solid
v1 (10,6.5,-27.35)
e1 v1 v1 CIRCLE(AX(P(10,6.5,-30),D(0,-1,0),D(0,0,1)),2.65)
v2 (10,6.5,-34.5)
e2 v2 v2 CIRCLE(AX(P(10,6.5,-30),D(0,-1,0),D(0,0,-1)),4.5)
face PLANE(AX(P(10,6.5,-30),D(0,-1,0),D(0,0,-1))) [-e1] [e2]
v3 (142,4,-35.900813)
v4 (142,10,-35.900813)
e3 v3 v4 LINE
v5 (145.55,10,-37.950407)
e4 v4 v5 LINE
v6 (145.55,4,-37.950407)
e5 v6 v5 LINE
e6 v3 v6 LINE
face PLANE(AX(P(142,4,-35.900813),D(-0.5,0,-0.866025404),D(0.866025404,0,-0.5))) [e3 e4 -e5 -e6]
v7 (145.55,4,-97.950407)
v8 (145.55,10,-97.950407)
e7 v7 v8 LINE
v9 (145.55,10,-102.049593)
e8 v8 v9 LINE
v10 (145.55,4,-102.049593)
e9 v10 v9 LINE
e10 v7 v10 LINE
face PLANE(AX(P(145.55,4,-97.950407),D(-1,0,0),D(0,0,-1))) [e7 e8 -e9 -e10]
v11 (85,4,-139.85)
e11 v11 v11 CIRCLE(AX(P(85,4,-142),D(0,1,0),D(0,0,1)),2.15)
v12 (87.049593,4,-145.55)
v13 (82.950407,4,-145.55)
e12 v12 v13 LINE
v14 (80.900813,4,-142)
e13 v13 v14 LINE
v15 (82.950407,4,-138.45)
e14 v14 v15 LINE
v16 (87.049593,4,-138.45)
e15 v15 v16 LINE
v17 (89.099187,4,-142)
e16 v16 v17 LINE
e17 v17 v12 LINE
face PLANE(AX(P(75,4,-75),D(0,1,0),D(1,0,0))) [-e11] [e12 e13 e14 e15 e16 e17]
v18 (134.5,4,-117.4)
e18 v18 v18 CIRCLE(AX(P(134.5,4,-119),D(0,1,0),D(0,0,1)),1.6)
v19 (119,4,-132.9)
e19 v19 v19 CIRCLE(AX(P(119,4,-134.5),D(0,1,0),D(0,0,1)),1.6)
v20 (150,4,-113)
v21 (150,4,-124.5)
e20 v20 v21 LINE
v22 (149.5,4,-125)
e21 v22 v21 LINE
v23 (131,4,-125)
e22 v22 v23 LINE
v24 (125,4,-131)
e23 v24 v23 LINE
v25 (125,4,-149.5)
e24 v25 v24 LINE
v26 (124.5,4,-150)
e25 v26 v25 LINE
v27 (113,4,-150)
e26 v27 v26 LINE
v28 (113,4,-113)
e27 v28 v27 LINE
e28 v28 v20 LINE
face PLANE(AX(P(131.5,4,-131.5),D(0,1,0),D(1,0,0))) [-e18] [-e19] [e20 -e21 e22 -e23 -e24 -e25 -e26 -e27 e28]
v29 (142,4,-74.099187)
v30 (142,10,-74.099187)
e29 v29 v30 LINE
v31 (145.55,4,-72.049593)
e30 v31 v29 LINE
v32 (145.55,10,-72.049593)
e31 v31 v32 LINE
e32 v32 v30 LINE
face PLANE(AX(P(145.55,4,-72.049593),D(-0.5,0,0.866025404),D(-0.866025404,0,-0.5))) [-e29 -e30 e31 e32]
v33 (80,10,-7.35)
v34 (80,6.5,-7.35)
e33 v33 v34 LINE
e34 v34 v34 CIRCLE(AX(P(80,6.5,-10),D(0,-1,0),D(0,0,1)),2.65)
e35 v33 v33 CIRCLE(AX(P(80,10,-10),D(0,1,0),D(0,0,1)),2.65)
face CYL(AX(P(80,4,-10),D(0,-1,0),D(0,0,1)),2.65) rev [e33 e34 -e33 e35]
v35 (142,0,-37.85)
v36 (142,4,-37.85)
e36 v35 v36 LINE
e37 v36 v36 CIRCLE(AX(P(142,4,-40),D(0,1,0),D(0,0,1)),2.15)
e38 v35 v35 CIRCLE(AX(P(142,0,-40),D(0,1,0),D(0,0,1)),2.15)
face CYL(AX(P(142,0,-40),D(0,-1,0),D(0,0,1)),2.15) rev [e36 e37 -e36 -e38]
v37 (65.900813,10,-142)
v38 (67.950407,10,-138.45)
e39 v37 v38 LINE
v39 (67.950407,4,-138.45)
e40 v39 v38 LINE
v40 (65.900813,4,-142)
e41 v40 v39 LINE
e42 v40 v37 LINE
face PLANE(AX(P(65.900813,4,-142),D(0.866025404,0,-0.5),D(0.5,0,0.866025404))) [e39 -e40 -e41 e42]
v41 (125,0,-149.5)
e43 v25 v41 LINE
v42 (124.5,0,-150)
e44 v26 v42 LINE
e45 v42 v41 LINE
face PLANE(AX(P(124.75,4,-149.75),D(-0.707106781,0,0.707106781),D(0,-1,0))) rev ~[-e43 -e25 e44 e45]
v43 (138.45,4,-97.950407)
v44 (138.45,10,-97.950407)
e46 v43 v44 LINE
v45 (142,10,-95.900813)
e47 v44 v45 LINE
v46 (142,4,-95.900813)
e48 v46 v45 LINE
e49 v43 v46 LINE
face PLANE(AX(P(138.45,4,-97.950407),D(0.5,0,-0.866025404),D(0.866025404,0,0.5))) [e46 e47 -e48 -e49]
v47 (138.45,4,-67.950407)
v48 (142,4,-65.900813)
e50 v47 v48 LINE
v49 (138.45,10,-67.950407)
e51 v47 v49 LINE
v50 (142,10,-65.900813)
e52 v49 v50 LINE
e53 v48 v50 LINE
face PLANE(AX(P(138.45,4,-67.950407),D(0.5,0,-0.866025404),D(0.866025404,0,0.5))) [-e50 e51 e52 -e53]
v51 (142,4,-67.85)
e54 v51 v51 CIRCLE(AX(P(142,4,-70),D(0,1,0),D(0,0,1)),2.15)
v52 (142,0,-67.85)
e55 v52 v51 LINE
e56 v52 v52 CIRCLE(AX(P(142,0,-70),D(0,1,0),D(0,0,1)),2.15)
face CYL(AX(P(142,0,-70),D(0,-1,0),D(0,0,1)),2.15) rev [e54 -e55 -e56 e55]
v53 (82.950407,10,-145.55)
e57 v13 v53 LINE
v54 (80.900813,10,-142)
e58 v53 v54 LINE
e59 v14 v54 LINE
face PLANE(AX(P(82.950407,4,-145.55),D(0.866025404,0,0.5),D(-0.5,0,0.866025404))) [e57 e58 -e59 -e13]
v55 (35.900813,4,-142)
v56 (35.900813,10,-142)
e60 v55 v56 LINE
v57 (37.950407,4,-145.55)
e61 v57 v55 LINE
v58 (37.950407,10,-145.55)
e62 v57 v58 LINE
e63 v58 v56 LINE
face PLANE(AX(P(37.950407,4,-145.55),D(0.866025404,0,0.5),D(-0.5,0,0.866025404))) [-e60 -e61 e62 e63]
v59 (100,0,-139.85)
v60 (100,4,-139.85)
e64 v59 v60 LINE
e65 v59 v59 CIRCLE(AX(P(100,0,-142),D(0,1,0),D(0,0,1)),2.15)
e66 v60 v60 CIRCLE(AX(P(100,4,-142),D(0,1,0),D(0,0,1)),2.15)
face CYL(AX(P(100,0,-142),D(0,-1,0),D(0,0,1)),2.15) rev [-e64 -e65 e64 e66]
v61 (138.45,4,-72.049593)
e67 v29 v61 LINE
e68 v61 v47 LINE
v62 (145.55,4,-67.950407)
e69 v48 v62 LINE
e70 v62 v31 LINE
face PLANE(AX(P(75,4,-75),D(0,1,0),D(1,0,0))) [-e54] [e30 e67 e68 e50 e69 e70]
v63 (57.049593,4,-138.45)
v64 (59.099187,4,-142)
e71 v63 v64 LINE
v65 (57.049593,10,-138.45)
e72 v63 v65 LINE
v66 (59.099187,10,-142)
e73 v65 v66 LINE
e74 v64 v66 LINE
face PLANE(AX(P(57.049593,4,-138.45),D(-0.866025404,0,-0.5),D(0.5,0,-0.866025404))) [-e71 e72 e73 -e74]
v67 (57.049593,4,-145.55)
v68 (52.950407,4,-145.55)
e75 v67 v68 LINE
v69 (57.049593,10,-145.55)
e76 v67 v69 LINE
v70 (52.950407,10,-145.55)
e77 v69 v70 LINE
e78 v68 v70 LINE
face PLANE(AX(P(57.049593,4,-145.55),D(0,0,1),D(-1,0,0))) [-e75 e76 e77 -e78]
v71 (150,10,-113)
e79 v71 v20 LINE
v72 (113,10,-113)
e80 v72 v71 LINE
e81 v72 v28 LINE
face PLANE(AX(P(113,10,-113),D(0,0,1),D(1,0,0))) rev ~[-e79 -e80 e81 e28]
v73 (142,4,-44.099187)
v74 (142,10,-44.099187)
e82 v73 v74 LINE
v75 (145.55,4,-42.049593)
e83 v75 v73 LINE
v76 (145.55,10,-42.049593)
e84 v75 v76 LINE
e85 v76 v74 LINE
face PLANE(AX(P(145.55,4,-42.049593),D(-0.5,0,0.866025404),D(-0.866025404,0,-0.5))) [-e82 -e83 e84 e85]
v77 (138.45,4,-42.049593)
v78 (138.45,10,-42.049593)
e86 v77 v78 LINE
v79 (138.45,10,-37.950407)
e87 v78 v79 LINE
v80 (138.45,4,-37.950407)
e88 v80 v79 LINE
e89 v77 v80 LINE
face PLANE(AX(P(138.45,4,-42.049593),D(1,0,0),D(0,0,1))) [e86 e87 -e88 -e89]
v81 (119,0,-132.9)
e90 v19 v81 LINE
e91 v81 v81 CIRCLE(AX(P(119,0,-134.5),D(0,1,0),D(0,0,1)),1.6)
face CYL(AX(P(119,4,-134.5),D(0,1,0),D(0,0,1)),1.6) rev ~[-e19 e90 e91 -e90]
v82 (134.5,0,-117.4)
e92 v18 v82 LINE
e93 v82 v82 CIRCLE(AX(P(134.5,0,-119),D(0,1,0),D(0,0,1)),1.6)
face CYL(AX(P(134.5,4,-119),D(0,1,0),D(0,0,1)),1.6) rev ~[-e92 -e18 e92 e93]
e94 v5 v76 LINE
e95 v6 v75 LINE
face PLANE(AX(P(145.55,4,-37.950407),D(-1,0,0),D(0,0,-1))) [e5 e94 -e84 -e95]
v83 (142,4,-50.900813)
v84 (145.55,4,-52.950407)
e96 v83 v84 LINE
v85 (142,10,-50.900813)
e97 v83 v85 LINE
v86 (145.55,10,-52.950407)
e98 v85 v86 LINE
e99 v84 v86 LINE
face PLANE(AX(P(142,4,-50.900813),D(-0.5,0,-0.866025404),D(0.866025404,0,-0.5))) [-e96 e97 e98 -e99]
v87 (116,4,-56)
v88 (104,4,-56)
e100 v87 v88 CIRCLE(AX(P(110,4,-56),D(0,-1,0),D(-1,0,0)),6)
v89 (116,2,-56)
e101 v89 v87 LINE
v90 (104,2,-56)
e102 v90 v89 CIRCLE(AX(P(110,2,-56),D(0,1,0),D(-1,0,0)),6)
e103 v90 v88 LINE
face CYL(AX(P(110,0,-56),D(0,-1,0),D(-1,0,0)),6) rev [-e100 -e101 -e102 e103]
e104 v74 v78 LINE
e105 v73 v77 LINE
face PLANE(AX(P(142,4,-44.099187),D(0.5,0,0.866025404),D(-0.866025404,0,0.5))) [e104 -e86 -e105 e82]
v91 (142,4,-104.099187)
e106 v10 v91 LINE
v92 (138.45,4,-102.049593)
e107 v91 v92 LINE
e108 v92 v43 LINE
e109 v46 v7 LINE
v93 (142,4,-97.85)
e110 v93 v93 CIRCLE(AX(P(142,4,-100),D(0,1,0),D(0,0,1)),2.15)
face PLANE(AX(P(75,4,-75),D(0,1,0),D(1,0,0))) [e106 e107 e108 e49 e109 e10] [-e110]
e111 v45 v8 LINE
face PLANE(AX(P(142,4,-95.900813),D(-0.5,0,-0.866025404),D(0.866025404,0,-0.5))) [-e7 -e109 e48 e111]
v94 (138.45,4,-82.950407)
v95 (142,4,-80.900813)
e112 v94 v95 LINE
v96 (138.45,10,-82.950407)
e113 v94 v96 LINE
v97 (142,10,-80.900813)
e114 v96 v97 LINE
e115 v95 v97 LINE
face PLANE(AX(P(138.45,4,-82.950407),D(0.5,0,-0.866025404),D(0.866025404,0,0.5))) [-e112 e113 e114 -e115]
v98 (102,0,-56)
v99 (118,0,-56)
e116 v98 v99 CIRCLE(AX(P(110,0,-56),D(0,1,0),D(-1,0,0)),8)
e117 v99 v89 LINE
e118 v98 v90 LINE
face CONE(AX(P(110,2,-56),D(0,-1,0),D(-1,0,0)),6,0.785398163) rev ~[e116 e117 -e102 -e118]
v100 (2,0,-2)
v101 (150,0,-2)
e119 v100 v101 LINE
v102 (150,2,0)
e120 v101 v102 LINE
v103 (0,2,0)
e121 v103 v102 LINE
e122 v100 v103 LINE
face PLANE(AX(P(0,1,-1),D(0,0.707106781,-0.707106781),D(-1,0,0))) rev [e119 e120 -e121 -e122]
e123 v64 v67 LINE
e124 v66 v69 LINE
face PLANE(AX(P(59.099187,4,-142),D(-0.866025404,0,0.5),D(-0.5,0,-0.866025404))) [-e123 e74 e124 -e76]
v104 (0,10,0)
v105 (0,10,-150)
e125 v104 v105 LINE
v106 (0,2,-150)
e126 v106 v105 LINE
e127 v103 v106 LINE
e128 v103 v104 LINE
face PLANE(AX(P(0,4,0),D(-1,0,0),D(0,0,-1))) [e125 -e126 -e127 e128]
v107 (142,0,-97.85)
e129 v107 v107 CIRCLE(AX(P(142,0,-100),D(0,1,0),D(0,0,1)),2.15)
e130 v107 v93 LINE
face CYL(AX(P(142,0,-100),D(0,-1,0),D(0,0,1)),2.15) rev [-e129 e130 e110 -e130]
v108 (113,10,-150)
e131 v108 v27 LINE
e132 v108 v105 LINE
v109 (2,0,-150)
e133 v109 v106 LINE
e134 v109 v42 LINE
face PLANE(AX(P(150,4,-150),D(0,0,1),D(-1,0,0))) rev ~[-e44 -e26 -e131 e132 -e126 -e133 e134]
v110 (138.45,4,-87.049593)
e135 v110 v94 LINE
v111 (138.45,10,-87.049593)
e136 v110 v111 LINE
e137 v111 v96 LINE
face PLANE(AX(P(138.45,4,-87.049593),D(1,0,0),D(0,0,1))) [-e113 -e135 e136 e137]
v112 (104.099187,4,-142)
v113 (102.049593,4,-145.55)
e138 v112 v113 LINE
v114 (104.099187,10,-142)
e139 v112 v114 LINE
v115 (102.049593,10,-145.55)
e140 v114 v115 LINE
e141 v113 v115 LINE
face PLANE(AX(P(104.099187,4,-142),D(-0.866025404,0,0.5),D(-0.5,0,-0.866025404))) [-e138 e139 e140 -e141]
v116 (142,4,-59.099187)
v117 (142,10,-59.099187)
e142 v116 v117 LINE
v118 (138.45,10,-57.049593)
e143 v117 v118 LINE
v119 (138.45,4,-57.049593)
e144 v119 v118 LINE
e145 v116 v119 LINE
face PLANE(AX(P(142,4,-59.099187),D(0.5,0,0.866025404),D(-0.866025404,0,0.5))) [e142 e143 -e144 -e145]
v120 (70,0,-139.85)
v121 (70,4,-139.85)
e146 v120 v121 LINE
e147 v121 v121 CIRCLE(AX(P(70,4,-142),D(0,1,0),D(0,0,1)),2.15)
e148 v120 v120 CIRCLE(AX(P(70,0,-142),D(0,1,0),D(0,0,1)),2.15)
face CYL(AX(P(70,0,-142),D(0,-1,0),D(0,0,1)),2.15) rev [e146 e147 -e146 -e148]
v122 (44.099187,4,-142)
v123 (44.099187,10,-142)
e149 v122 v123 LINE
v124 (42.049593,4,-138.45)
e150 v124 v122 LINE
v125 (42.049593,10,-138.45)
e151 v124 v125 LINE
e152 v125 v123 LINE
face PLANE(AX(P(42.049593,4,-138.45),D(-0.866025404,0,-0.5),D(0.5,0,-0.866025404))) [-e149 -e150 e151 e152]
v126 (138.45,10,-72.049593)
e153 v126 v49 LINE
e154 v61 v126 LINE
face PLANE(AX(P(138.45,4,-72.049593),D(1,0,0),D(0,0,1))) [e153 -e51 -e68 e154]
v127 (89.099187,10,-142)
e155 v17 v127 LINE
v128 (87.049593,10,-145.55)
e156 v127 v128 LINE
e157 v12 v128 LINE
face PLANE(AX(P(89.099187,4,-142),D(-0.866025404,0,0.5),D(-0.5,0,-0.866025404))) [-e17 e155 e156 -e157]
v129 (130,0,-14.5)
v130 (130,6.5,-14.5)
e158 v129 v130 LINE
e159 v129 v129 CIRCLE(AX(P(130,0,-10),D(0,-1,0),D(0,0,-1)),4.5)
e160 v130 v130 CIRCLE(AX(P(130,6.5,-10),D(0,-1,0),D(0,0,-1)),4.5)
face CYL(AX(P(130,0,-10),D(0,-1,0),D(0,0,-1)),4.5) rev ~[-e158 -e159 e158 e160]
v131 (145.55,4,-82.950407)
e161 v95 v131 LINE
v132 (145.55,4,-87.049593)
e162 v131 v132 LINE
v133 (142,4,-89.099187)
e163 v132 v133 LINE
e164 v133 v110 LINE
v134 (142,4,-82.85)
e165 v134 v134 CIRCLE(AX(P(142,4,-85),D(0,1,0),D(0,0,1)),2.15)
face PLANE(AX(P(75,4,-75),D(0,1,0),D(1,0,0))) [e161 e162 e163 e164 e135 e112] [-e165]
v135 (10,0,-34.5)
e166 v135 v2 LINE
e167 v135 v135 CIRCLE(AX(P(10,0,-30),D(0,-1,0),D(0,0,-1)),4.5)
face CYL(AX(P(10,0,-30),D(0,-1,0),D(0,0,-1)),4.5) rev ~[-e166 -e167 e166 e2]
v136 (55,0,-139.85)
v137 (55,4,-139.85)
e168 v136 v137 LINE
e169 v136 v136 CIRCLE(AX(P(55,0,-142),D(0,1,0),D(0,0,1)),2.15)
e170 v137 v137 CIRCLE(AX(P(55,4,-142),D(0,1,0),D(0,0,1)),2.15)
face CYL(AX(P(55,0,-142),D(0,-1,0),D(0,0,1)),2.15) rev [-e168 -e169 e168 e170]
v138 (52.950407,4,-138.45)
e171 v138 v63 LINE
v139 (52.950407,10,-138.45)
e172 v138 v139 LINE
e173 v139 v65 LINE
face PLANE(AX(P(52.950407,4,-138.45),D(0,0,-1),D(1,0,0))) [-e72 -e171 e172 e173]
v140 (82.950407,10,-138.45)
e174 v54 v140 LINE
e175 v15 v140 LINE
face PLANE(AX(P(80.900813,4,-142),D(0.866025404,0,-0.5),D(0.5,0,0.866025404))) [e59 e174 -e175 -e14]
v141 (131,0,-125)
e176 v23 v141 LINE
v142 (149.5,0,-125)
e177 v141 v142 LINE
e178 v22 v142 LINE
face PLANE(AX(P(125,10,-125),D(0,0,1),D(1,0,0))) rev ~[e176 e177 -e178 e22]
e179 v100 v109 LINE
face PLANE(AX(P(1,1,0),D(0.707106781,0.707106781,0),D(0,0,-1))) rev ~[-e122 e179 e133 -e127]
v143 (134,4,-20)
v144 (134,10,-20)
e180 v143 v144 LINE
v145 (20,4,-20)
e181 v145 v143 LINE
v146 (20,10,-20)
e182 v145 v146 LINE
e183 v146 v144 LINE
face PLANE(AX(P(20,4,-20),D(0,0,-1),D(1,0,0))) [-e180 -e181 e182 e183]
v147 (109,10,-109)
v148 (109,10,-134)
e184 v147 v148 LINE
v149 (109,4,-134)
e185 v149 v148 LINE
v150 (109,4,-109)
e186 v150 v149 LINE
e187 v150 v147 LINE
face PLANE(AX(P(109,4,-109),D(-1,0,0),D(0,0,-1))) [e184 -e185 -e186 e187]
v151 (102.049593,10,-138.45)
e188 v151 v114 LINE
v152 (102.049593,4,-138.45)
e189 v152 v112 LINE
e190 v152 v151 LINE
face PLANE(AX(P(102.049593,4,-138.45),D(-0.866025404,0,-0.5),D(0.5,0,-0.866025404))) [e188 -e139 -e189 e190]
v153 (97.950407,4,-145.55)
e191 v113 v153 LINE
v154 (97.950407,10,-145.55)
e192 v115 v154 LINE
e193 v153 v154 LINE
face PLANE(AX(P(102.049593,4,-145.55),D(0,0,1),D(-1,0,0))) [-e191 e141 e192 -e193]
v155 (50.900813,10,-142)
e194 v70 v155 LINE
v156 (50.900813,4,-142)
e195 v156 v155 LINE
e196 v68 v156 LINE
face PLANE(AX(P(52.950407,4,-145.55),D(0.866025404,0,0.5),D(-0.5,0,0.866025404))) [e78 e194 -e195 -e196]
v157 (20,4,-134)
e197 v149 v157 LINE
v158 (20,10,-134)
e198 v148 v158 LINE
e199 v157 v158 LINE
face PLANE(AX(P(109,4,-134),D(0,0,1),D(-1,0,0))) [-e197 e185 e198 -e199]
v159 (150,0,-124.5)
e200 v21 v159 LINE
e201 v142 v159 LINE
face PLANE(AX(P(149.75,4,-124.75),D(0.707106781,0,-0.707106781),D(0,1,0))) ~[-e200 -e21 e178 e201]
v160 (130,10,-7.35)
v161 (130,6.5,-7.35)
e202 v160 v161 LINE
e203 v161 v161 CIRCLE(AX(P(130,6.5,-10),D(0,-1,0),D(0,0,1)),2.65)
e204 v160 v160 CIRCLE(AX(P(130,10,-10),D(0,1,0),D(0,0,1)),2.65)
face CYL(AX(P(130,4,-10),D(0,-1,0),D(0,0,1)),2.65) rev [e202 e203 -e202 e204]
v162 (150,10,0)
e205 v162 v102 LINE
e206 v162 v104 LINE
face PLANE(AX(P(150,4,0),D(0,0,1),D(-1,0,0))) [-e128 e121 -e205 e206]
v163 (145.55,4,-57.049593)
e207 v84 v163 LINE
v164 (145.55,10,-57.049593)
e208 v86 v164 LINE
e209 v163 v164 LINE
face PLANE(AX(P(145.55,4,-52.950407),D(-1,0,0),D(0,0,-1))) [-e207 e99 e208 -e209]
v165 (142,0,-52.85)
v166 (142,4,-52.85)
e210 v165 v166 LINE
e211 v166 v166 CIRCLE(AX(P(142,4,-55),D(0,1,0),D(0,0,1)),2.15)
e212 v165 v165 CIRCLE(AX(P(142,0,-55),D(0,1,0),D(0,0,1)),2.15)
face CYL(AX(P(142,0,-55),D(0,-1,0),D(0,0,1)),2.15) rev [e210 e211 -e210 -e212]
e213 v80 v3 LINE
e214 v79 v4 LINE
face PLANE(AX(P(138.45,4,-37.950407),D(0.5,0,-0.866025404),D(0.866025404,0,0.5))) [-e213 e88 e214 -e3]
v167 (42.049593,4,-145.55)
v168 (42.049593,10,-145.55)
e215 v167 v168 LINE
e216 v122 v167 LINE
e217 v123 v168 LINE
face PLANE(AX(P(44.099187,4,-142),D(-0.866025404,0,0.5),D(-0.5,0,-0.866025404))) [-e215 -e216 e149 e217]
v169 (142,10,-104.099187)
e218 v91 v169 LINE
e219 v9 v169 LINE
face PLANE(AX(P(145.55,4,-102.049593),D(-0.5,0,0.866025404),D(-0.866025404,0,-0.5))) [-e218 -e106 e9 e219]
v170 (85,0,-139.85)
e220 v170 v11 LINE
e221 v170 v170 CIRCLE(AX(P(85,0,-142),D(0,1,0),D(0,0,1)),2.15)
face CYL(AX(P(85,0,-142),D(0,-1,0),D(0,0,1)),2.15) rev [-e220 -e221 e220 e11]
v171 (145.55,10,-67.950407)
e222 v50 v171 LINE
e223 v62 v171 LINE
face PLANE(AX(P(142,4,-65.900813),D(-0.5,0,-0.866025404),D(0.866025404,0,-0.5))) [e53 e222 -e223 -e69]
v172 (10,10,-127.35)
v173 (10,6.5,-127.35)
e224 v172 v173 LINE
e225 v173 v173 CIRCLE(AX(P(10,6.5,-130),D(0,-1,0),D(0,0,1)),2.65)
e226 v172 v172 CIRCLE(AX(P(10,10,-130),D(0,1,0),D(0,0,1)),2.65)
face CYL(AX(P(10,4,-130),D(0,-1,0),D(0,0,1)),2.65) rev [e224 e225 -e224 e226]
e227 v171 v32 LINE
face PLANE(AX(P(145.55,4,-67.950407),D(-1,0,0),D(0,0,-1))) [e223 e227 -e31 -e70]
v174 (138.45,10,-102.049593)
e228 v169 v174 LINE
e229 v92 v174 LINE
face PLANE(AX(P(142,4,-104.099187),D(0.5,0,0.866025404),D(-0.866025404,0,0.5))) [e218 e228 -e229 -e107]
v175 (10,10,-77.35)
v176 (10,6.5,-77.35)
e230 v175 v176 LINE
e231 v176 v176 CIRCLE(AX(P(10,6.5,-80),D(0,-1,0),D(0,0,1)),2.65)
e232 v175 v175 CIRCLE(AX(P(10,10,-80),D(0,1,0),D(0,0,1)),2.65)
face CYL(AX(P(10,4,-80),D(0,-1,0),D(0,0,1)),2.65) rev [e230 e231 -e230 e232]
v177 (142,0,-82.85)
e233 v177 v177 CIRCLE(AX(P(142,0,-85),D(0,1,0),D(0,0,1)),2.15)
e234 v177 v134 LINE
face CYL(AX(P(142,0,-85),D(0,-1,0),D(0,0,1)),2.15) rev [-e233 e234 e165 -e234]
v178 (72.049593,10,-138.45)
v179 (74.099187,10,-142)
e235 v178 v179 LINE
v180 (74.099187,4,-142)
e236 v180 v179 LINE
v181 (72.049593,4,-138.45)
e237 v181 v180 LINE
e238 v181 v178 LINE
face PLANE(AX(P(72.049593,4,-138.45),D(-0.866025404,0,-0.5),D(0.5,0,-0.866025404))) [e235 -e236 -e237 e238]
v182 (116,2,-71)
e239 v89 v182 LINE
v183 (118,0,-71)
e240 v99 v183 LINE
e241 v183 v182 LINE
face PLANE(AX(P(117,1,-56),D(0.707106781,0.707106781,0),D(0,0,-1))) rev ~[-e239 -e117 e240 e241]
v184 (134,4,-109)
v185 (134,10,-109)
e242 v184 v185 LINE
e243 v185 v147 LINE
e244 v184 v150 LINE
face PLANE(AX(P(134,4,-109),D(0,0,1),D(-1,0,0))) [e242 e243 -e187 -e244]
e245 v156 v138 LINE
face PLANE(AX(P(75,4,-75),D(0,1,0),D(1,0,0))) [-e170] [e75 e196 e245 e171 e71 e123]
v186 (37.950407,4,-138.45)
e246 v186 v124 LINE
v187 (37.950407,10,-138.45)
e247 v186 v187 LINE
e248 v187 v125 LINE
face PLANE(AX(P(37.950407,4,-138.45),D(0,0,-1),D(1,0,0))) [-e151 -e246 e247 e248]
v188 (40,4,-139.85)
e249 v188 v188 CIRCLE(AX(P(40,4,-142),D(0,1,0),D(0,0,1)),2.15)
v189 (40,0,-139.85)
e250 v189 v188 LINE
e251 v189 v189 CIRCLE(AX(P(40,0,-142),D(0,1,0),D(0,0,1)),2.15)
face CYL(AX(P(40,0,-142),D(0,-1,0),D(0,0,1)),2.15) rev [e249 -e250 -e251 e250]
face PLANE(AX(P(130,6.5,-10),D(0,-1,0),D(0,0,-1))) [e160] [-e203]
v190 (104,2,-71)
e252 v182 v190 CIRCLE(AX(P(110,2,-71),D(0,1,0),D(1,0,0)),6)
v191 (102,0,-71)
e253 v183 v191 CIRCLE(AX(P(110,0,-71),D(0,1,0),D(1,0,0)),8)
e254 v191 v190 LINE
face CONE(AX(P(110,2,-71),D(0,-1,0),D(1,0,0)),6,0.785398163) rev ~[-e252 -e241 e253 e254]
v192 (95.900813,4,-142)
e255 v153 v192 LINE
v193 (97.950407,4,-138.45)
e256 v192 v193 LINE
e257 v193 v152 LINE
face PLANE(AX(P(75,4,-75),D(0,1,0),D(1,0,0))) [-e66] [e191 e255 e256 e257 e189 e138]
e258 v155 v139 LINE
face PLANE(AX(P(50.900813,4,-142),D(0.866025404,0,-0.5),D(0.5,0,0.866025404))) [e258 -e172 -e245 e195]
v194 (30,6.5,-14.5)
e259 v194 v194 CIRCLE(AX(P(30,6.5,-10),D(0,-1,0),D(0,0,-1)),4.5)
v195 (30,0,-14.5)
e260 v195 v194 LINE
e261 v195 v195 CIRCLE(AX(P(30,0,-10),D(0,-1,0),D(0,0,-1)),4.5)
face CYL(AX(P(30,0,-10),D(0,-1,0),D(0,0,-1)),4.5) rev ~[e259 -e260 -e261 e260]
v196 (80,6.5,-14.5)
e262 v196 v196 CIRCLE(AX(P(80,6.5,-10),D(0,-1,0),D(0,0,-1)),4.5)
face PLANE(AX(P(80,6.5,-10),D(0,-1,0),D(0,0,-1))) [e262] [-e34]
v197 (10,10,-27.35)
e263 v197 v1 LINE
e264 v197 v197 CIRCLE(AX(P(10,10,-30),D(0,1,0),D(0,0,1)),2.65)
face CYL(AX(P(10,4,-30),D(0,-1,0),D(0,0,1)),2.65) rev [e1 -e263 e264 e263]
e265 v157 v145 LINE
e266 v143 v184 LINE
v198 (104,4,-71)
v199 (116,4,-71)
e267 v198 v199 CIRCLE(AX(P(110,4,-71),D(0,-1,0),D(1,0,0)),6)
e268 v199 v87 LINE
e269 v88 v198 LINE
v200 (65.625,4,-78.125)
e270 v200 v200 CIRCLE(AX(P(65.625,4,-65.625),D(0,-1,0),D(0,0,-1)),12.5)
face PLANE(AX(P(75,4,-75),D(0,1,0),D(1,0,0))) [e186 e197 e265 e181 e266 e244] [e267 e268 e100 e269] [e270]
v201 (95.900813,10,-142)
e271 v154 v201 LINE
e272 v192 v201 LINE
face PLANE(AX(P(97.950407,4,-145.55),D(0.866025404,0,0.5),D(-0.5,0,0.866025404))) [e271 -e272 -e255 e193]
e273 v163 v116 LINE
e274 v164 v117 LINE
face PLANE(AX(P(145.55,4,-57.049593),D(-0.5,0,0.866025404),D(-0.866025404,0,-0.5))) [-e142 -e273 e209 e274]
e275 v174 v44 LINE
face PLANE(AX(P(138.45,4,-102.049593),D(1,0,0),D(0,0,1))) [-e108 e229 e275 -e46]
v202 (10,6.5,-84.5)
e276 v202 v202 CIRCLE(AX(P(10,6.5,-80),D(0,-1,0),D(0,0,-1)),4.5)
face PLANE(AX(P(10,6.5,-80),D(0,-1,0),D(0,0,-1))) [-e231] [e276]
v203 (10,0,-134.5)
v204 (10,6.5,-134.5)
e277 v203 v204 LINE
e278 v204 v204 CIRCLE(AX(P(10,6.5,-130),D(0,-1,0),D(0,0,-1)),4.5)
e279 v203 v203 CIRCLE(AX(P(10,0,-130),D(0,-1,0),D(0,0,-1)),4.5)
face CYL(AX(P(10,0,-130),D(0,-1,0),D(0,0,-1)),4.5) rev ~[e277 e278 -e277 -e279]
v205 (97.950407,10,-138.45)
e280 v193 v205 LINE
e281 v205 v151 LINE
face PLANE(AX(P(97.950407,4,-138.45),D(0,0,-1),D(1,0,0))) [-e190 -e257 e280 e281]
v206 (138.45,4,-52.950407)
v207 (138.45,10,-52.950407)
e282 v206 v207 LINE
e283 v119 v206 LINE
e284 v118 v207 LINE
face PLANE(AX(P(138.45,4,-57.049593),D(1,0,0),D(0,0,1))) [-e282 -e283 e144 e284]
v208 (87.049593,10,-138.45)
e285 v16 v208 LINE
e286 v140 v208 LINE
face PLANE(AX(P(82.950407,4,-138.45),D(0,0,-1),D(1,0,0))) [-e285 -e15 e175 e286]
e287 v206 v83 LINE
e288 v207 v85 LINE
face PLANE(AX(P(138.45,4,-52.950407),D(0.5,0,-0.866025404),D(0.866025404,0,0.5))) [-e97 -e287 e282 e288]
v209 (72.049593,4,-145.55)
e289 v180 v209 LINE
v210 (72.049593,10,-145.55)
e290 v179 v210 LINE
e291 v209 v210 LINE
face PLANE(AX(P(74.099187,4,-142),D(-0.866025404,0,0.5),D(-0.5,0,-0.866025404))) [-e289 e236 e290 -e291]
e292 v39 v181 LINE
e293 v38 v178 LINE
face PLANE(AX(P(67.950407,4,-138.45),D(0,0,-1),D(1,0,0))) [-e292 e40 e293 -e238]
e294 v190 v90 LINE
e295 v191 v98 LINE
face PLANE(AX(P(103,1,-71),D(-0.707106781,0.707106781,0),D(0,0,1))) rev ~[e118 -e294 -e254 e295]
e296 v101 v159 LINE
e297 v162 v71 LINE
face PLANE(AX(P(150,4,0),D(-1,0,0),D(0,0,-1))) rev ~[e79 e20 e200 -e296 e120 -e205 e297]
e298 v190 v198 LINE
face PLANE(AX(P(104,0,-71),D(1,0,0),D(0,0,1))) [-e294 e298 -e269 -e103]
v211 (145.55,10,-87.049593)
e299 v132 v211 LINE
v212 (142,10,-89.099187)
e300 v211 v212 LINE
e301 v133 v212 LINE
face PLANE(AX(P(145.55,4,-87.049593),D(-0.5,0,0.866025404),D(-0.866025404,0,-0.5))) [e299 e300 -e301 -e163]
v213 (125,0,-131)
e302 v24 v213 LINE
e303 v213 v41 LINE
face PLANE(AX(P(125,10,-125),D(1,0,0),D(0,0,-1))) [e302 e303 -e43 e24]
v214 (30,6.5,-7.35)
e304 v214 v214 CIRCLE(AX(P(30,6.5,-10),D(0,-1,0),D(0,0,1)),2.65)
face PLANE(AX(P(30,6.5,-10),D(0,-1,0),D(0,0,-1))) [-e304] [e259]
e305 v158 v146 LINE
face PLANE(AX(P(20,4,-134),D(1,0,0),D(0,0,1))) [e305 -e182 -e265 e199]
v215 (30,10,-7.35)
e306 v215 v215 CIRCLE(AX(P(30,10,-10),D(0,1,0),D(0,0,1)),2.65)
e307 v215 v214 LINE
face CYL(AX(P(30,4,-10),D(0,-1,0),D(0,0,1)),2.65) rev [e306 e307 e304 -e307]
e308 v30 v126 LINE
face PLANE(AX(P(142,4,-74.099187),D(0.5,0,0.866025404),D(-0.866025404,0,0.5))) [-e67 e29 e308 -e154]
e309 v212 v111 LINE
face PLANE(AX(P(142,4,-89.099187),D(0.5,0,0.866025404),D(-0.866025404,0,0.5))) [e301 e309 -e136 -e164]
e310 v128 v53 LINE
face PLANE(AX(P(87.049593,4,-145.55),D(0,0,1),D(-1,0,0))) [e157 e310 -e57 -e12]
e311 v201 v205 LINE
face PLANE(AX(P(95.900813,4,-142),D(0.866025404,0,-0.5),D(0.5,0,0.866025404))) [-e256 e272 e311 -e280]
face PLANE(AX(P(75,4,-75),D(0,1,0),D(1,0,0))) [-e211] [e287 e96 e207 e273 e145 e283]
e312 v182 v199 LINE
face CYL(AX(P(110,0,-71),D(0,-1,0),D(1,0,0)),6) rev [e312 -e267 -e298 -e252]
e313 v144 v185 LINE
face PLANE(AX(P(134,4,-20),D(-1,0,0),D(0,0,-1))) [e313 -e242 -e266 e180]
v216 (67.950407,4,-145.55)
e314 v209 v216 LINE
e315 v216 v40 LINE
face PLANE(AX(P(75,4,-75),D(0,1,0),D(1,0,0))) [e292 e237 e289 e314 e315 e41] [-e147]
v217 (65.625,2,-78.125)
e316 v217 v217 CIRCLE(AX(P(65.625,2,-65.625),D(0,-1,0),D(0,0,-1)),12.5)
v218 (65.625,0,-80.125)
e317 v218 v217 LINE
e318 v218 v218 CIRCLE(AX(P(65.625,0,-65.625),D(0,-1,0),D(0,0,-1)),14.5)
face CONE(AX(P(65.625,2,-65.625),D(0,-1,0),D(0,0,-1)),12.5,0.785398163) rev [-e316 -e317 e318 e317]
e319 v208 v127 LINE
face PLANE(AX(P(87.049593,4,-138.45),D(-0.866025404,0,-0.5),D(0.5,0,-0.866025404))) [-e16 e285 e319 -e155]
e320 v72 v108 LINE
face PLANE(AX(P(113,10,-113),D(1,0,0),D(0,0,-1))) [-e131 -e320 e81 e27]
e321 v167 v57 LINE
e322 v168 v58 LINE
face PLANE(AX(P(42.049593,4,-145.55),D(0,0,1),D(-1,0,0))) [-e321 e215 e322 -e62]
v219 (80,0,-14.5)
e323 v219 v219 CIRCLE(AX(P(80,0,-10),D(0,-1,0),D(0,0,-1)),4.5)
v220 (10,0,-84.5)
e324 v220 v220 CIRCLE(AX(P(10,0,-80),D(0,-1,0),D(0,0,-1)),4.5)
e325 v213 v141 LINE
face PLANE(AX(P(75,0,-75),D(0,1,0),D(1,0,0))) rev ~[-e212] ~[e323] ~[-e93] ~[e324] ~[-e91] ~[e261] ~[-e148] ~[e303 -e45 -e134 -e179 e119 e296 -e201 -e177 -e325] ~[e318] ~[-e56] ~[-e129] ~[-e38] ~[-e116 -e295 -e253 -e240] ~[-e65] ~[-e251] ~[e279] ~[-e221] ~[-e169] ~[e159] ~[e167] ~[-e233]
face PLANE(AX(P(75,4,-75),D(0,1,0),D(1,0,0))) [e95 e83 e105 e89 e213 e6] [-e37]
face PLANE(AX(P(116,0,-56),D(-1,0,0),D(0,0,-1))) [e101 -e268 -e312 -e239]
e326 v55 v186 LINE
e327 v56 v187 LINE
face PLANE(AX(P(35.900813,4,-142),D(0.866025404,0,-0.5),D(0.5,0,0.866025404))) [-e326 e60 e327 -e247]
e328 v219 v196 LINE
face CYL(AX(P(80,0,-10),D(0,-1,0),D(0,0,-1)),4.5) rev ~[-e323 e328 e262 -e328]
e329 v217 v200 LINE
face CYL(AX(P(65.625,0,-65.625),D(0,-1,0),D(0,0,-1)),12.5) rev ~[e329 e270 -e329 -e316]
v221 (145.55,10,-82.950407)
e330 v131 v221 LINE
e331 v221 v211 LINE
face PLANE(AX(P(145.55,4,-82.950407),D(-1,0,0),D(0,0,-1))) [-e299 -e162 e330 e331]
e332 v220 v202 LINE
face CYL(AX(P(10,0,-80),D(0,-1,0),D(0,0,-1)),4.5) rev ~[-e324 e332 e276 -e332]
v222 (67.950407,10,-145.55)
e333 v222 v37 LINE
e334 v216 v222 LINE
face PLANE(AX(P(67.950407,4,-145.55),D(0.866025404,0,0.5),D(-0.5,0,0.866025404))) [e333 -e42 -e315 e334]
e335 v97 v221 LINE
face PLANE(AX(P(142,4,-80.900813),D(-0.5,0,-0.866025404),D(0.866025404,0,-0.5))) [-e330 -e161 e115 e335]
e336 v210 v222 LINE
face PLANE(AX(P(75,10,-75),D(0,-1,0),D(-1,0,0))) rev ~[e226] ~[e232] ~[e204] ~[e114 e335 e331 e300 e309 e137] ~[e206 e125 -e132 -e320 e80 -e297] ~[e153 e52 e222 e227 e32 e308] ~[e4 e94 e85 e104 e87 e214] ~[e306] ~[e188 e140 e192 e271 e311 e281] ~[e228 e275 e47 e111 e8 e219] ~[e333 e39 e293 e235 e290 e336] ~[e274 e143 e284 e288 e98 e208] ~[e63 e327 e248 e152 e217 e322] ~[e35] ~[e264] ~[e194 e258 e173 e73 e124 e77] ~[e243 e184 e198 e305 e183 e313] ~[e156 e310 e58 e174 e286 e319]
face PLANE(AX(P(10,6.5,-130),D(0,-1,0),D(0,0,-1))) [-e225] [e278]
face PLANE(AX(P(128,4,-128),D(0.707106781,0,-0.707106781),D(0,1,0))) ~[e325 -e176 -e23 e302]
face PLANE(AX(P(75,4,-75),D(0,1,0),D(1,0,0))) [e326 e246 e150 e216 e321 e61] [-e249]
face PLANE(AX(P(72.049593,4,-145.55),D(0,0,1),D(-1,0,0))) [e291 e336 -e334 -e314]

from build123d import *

# Parameters (mm, degrees)
SKETCH1_W           = 150
SKETCH1_H           = 150
SKETCH1_R           = 2.15
SKETCH1_R_2         = 2.65
BOSS_EXTRUDE1_DEPTH = 4
SKETCH2_R           = 2.65
BOSS_EXTRUDE2_DEPTH = 6
SKETCH3_R           = 4.5
SKETCH3_R_2         = 12.5
CUT_EXTRUDE1_DEPTH  = 6.5
SKETCH4_W           = 25
SKETCH4_H           = 25
CUT_EXTRUDE2_DEPTH  = 10
SKETCH5_W           = 37
SKETCH5_H           = 37
CUT_EXTRUDE3_DEPTH  = 6
SKETCH6_R           = 1.6
CUT_EXTRUDE4_DEPTH  = 24.5
CHAMFER1_SIZE       = 2
CUT_EXTRUDE5_DEPTH  = 24.5
CHAMFER2_SIZE       = 2
CHAMFER3_SIZE       = 0.5
CHAMFER4_SIZE       = 6


with BuildPart() as part:
    # Sketch1 → Boss-Extrude1 (new body)
    with BuildSketch(Plane(origin=(0, 0, 0), x_dir=(1, 0, 0), z_dir=(0, 1, 0))):
        with Locations((75, 75)):
            Rectangle(SKETCH1_W, SKETCH1_H)
        with Locations(Location((100, 142, 0), (0, 0, 270))):
            Circle(SKETCH1_R, mode=Mode.SUBTRACT)
        with Locations(Location((85, 142, 0), (0, 0, 270))):
            Circle(SKETCH1_R, mode=Mode.SUBTRACT)
        with Locations(Location((70, 142, 0), (0, 0, 270))):
            Circle(SKETCH1_R, mode=Mode.SUBTRACT)
        with Locations(Location((55, 142, 0), (0, 0, 270))):
            Circle(SKETCH1_R, mode=Mode.SUBTRACT)
        with Locations(Location((40, 142, 0), (0, 0, 270))):
            Circle(SKETCH1_R, mode=Mode.SUBTRACT)
        with Locations(Location((142, 40, 0), (0, 0, 270))):
            Circle(SKETCH1_R, mode=Mode.SUBTRACT)
        with Locations(Location((142, 55, 0), (0, 0, 270))):
            Circle(SKETCH1_R, mode=Mode.SUBTRACT)
        with Locations(Location((142, 70, 0), (0, 0, 270))):
            Circle(SKETCH1_R, mode=Mode.SUBTRACT)
        with Locations(Location((142, 85, 0), (0, 0, 270))):
            Circle(SKETCH1_R, mode=Mode.SUBTRACT)
        with Locations(Location((142, 100, 0), (0, 0, 270))):
            Circle(SKETCH1_R, mode=Mode.SUBTRACT)
        with Locations(Location((10, 30, 0), (0, 0, 270))):
            Circle(SKETCH1_R_2, mode=Mode.SUBTRACT)
        with Locations(Location((10, 80, 0), (0, 0, 270))):
            Circle(SKETCH1_R_2, mode=Mode.SUBTRACT)
        with Locations(Location((10, 130, 0), (0, 0, 270))):
            Circle(SKETCH1_R_2, mode=Mode.SUBTRACT)
        with Locations(Location((30, 10, 0), (0, 0, 270))):
            Circle(SKETCH1_R_2, mode=Mode.SUBTRACT)
        with Locations(Location((80, 10, 0), (0, 0, 270))):
            Circle(SKETCH1_R_2, mode=Mode.SUBTRACT)
        with Locations(Location((130, 10, 0), (0, 0, 270))):
            Circle(SKETCH1_R_2, mode=Mode.SUBTRACT)
    extrude(amount=BOSS_EXTRUDE1_DEPTH)

    # Sketch2 → Boss-Extrude2 (add)
    with BuildSketch(Plane(origin=(0, 4, 0), x_dir=(1, 0, 0), z_dir=(0, 1, 0))):
        Polygon((0, 150), (20, 150), (150, 150), (150, 134), (150, 20), (150, 0), (0, 0), align=None)
        with Locations(Location((10, 130, 0), (0, 0, 270))):
            Circle(SKETCH2_R, mode=Mode.SUBTRACT)
        with Locations(Location((10, 80, 0), (0, 0, 270))):
            Circle(SKETCH2_R, mode=Mode.SUBTRACT)
        with Locations(Location((10, 30, 0), (0, 0, 270))):
            Circle(SKETCH2_R, mode=Mode.SUBTRACT)
        with Locations(Location((30, 10, 0), (0, 0, 270))):
            Circle(SKETCH2_R, mode=Mode.SUBTRACT)
        with Locations(Location((80, 10, 0), (0, 0, 270))):
            Circle(SKETCH2_R, mode=Mode.SUBTRACT)
        with Locations(Location((130, 10, 0), (0, 0, 270))):
            Circle(SKETCH2_R, mode=Mode.SUBTRACT)
        Polygon((20, 134), (20, 20), (134, 20), (134, 109), (109, 109), (109, 134), align=None, mode=Mode.SUBTRACT)
        Polygon((59.099186911, 142), (57.049593456, 145.55), (52.950406544, 145.55), (50.900813089, 142), (52.950406544, 138.45), (57.049593456, 138.45), align=None, mode=Mode.SUBTRACT)
        Polygon((44.099186911, 142), (42.049593456, 145.55), (37.950406544, 145.55), (35.900813089, 142), (37.950406544, 138.45), (42.049593456, 138.45), align=None, mode=Mode.SUBTRACT)
        Polygon((74.099186911, 142), (72.049593456, 145.55), (67.950406544, 145.55), (65.900813089, 142), (67.950406544, 138.45), (72.049593456, 138.45), align=None, mode=Mode.SUBTRACT)
        Polygon((89.099186911, 142), (87.049593456, 145.55), (82.950406544, 145.55), (80.900813089, 142), (82.950406544, 138.45), (87.049593456, 138.45), align=None, mode=Mode.SUBTRACT)
        Polygon((104.099186911, 142), (102.049593456, 145.55), (97.950406544, 145.55), (95.900813089, 142), (97.950406544, 138.45), (102.049593456, 138.45), align=None, mode=Mode.SUBTRACT)
        Polygon((142, 80.900813089), (145.55, 82.950406544), (145.55, 87.049593456), (142, 89.099186911), (138.45, 87.049593456), (138.45, 82.950406544), align=None, mode=Mode.SUBTRACT)
        Polygon((142, 95.900813089), (145.55, 97.950406544), (145.55, 102.049593456), (142, 104.099186911), (138.45, 102.049593456), (138.45, 97.950406544), align=None, mode=Mode.SUBTRACT)
        Polygon((142, 65.900813089), (145.55, 67.950406544), (145.55, 72.049593456), (142, 74.099186911), (138.45, 72.049593456), (138.45, 67.950406544), align=None, mode=Mode.SUBTRACT)
        Polygon((142, 50.900813089), (145.55, 52.950406544), (145.55, 57.049593456), (142, 59.099186911), (138.45, 57.049593456), (138.45, 52.950406544), align=None, mode=Mode.SUBTRACT)
        Polygon((142, 35.900813089), (145.55, 37.950406544), (145.55, 42.049593456), (142, 44.099186911), (138.45, 42.049593456), (138.45, 37.950406544), align=None, mode=Mode.SUBTRACT)
    extrude(amount=BOSS_EXTRUDE2_DEPTH)

    # Sketch3 → Cut-Extrude1 (cut)
    with BuildSketch(Plane.XZ):
        with Locations(Location((10, -130, 0), (0, 0, 270))):
            Circle(SKETCH3_R)
        with Locations(Location((10, -80, 0), (0, 0, 270))):
            Circle(SKETCH3_R)
        with Locations(Location((10, -30, 0), (0, 0, 270))):
            Circle(SKETCH3_R)
        with Locations(Location((30, -10, 0), (0, 0, 270))):
            Circle(SKETCH3_R)
        with Locations(Location((80, -10, 0), (0, 0, 270))):
            Circle(SKETCH3_R)
        with Locations(Location((130, -10, 0), (0, 0, 270))):
            Circle(SKETCH3_R)
        with Locations(Location((65.625, -65.625, 0), (0, 0, 270))):
            Circle(SKETCH3_R_2)
    extrude(amount=-CUT_EXTRUDE1_DEPTH, mode=Mode.SUBTRACT)

    # Sketch4 → Cut-Extrude2 (cut)
    with BuildSketch(Plane(origin=(0, 10, 0), x_dir=(1, 0, 0), z_dir=(0, 1, 0))):
        with Locations((137.5, 137.5)):
            Rectangle(SKETCH4_W, SKETCH4_H)
    extrude(amount=-CUT_EXTRUDE2_DEPTH, mode=Mode.SUBTRACT)

    # Sketch5 → Cut-Extrude3 (cut)
    with BuildSketch(Plane(origin=(0, 10, 0), x_dir=(1, 0, 0), z_dir=(0, 1, 0))):
        with Locations((131.5, 131.5)):
            Rectangle(SKETCH5_W, SKETCH5_H)
    extrude(amount=-CUT_EXTRUDE3_DEPTH, mode=Mode.SUBTRACT)

    # Sketch6 → Cut-Extrude4 (cut)
    with BuildSketch(Plane(origin=(0, 4, 0), x_dir=(1, 0, 0), z_dir=(0, 1, 0))):
        with Locations(Location((119, 134.5, 0), (0, 0, 270))):
            Circle(SKETCH6_R)
        with Locations(Location((134.5, 119, 0), (0, 0, 270))):
            Circle(SKETCH6_R)
    extrude(amount=-CUT_EXTRUDE4_DEPTH, mode=Mode.SUBTRACT)

    # Chamfer1
    chamfer1_edges = [part.edges().sort_by_distance(p)[0] for p in [
        (75, 0, 0),
        (0, 0, -75),
    ]]
    chamfer(chamfer1_edges, length=CHAMFER1_SIZE)

    # Sketch7 → Cut-Extrude5 (cut)
    with BuildSketch(Plane.XZ):
        with BuildLine():
            Line((104, -71), (104, -56))
            ThreePointArc((104, -56), (110, -50), (116, -56))
            Line((116, -56), (116, -71))
            ThreePointArc((116, -71), (110, -77), (104, -71))
        make_face()
    extrude(amount=-CUT_EXTRUDE5_DEPTH, mode=Mode.SUBTRACT)

    # Chamfer2
    chamfer2_edges = [part.edges().sort_by_distance(p)[0] for p in [
        (65.625, 0, -53.125),
        (110, 0, -77),
        (116, 0, -63.5),
        (110, 0, -50),
        (104, 0, -63.5),
    ]]
    chamfer(chamfer2_edges, length=CHAMFER2_SIZE)

    # Chamfer3
    chamfer3_edges = [part.edges().sort_by_distance(p)[0] for p in [
        (125, 2, -150),
        (150, 2, -125),
    ]]
    chamfer(chamfer3_edges, length=CHAMFER3_SIZE)

    # Chamfer4
    chamfer4_edges = [part.edges().sort_by_distance(p)[0] for p in [
        (125, 2, -125),
    ]]
    chamfer(chamfer4_edges, length=CHAMFER4_SIZE)


solid = part.part
